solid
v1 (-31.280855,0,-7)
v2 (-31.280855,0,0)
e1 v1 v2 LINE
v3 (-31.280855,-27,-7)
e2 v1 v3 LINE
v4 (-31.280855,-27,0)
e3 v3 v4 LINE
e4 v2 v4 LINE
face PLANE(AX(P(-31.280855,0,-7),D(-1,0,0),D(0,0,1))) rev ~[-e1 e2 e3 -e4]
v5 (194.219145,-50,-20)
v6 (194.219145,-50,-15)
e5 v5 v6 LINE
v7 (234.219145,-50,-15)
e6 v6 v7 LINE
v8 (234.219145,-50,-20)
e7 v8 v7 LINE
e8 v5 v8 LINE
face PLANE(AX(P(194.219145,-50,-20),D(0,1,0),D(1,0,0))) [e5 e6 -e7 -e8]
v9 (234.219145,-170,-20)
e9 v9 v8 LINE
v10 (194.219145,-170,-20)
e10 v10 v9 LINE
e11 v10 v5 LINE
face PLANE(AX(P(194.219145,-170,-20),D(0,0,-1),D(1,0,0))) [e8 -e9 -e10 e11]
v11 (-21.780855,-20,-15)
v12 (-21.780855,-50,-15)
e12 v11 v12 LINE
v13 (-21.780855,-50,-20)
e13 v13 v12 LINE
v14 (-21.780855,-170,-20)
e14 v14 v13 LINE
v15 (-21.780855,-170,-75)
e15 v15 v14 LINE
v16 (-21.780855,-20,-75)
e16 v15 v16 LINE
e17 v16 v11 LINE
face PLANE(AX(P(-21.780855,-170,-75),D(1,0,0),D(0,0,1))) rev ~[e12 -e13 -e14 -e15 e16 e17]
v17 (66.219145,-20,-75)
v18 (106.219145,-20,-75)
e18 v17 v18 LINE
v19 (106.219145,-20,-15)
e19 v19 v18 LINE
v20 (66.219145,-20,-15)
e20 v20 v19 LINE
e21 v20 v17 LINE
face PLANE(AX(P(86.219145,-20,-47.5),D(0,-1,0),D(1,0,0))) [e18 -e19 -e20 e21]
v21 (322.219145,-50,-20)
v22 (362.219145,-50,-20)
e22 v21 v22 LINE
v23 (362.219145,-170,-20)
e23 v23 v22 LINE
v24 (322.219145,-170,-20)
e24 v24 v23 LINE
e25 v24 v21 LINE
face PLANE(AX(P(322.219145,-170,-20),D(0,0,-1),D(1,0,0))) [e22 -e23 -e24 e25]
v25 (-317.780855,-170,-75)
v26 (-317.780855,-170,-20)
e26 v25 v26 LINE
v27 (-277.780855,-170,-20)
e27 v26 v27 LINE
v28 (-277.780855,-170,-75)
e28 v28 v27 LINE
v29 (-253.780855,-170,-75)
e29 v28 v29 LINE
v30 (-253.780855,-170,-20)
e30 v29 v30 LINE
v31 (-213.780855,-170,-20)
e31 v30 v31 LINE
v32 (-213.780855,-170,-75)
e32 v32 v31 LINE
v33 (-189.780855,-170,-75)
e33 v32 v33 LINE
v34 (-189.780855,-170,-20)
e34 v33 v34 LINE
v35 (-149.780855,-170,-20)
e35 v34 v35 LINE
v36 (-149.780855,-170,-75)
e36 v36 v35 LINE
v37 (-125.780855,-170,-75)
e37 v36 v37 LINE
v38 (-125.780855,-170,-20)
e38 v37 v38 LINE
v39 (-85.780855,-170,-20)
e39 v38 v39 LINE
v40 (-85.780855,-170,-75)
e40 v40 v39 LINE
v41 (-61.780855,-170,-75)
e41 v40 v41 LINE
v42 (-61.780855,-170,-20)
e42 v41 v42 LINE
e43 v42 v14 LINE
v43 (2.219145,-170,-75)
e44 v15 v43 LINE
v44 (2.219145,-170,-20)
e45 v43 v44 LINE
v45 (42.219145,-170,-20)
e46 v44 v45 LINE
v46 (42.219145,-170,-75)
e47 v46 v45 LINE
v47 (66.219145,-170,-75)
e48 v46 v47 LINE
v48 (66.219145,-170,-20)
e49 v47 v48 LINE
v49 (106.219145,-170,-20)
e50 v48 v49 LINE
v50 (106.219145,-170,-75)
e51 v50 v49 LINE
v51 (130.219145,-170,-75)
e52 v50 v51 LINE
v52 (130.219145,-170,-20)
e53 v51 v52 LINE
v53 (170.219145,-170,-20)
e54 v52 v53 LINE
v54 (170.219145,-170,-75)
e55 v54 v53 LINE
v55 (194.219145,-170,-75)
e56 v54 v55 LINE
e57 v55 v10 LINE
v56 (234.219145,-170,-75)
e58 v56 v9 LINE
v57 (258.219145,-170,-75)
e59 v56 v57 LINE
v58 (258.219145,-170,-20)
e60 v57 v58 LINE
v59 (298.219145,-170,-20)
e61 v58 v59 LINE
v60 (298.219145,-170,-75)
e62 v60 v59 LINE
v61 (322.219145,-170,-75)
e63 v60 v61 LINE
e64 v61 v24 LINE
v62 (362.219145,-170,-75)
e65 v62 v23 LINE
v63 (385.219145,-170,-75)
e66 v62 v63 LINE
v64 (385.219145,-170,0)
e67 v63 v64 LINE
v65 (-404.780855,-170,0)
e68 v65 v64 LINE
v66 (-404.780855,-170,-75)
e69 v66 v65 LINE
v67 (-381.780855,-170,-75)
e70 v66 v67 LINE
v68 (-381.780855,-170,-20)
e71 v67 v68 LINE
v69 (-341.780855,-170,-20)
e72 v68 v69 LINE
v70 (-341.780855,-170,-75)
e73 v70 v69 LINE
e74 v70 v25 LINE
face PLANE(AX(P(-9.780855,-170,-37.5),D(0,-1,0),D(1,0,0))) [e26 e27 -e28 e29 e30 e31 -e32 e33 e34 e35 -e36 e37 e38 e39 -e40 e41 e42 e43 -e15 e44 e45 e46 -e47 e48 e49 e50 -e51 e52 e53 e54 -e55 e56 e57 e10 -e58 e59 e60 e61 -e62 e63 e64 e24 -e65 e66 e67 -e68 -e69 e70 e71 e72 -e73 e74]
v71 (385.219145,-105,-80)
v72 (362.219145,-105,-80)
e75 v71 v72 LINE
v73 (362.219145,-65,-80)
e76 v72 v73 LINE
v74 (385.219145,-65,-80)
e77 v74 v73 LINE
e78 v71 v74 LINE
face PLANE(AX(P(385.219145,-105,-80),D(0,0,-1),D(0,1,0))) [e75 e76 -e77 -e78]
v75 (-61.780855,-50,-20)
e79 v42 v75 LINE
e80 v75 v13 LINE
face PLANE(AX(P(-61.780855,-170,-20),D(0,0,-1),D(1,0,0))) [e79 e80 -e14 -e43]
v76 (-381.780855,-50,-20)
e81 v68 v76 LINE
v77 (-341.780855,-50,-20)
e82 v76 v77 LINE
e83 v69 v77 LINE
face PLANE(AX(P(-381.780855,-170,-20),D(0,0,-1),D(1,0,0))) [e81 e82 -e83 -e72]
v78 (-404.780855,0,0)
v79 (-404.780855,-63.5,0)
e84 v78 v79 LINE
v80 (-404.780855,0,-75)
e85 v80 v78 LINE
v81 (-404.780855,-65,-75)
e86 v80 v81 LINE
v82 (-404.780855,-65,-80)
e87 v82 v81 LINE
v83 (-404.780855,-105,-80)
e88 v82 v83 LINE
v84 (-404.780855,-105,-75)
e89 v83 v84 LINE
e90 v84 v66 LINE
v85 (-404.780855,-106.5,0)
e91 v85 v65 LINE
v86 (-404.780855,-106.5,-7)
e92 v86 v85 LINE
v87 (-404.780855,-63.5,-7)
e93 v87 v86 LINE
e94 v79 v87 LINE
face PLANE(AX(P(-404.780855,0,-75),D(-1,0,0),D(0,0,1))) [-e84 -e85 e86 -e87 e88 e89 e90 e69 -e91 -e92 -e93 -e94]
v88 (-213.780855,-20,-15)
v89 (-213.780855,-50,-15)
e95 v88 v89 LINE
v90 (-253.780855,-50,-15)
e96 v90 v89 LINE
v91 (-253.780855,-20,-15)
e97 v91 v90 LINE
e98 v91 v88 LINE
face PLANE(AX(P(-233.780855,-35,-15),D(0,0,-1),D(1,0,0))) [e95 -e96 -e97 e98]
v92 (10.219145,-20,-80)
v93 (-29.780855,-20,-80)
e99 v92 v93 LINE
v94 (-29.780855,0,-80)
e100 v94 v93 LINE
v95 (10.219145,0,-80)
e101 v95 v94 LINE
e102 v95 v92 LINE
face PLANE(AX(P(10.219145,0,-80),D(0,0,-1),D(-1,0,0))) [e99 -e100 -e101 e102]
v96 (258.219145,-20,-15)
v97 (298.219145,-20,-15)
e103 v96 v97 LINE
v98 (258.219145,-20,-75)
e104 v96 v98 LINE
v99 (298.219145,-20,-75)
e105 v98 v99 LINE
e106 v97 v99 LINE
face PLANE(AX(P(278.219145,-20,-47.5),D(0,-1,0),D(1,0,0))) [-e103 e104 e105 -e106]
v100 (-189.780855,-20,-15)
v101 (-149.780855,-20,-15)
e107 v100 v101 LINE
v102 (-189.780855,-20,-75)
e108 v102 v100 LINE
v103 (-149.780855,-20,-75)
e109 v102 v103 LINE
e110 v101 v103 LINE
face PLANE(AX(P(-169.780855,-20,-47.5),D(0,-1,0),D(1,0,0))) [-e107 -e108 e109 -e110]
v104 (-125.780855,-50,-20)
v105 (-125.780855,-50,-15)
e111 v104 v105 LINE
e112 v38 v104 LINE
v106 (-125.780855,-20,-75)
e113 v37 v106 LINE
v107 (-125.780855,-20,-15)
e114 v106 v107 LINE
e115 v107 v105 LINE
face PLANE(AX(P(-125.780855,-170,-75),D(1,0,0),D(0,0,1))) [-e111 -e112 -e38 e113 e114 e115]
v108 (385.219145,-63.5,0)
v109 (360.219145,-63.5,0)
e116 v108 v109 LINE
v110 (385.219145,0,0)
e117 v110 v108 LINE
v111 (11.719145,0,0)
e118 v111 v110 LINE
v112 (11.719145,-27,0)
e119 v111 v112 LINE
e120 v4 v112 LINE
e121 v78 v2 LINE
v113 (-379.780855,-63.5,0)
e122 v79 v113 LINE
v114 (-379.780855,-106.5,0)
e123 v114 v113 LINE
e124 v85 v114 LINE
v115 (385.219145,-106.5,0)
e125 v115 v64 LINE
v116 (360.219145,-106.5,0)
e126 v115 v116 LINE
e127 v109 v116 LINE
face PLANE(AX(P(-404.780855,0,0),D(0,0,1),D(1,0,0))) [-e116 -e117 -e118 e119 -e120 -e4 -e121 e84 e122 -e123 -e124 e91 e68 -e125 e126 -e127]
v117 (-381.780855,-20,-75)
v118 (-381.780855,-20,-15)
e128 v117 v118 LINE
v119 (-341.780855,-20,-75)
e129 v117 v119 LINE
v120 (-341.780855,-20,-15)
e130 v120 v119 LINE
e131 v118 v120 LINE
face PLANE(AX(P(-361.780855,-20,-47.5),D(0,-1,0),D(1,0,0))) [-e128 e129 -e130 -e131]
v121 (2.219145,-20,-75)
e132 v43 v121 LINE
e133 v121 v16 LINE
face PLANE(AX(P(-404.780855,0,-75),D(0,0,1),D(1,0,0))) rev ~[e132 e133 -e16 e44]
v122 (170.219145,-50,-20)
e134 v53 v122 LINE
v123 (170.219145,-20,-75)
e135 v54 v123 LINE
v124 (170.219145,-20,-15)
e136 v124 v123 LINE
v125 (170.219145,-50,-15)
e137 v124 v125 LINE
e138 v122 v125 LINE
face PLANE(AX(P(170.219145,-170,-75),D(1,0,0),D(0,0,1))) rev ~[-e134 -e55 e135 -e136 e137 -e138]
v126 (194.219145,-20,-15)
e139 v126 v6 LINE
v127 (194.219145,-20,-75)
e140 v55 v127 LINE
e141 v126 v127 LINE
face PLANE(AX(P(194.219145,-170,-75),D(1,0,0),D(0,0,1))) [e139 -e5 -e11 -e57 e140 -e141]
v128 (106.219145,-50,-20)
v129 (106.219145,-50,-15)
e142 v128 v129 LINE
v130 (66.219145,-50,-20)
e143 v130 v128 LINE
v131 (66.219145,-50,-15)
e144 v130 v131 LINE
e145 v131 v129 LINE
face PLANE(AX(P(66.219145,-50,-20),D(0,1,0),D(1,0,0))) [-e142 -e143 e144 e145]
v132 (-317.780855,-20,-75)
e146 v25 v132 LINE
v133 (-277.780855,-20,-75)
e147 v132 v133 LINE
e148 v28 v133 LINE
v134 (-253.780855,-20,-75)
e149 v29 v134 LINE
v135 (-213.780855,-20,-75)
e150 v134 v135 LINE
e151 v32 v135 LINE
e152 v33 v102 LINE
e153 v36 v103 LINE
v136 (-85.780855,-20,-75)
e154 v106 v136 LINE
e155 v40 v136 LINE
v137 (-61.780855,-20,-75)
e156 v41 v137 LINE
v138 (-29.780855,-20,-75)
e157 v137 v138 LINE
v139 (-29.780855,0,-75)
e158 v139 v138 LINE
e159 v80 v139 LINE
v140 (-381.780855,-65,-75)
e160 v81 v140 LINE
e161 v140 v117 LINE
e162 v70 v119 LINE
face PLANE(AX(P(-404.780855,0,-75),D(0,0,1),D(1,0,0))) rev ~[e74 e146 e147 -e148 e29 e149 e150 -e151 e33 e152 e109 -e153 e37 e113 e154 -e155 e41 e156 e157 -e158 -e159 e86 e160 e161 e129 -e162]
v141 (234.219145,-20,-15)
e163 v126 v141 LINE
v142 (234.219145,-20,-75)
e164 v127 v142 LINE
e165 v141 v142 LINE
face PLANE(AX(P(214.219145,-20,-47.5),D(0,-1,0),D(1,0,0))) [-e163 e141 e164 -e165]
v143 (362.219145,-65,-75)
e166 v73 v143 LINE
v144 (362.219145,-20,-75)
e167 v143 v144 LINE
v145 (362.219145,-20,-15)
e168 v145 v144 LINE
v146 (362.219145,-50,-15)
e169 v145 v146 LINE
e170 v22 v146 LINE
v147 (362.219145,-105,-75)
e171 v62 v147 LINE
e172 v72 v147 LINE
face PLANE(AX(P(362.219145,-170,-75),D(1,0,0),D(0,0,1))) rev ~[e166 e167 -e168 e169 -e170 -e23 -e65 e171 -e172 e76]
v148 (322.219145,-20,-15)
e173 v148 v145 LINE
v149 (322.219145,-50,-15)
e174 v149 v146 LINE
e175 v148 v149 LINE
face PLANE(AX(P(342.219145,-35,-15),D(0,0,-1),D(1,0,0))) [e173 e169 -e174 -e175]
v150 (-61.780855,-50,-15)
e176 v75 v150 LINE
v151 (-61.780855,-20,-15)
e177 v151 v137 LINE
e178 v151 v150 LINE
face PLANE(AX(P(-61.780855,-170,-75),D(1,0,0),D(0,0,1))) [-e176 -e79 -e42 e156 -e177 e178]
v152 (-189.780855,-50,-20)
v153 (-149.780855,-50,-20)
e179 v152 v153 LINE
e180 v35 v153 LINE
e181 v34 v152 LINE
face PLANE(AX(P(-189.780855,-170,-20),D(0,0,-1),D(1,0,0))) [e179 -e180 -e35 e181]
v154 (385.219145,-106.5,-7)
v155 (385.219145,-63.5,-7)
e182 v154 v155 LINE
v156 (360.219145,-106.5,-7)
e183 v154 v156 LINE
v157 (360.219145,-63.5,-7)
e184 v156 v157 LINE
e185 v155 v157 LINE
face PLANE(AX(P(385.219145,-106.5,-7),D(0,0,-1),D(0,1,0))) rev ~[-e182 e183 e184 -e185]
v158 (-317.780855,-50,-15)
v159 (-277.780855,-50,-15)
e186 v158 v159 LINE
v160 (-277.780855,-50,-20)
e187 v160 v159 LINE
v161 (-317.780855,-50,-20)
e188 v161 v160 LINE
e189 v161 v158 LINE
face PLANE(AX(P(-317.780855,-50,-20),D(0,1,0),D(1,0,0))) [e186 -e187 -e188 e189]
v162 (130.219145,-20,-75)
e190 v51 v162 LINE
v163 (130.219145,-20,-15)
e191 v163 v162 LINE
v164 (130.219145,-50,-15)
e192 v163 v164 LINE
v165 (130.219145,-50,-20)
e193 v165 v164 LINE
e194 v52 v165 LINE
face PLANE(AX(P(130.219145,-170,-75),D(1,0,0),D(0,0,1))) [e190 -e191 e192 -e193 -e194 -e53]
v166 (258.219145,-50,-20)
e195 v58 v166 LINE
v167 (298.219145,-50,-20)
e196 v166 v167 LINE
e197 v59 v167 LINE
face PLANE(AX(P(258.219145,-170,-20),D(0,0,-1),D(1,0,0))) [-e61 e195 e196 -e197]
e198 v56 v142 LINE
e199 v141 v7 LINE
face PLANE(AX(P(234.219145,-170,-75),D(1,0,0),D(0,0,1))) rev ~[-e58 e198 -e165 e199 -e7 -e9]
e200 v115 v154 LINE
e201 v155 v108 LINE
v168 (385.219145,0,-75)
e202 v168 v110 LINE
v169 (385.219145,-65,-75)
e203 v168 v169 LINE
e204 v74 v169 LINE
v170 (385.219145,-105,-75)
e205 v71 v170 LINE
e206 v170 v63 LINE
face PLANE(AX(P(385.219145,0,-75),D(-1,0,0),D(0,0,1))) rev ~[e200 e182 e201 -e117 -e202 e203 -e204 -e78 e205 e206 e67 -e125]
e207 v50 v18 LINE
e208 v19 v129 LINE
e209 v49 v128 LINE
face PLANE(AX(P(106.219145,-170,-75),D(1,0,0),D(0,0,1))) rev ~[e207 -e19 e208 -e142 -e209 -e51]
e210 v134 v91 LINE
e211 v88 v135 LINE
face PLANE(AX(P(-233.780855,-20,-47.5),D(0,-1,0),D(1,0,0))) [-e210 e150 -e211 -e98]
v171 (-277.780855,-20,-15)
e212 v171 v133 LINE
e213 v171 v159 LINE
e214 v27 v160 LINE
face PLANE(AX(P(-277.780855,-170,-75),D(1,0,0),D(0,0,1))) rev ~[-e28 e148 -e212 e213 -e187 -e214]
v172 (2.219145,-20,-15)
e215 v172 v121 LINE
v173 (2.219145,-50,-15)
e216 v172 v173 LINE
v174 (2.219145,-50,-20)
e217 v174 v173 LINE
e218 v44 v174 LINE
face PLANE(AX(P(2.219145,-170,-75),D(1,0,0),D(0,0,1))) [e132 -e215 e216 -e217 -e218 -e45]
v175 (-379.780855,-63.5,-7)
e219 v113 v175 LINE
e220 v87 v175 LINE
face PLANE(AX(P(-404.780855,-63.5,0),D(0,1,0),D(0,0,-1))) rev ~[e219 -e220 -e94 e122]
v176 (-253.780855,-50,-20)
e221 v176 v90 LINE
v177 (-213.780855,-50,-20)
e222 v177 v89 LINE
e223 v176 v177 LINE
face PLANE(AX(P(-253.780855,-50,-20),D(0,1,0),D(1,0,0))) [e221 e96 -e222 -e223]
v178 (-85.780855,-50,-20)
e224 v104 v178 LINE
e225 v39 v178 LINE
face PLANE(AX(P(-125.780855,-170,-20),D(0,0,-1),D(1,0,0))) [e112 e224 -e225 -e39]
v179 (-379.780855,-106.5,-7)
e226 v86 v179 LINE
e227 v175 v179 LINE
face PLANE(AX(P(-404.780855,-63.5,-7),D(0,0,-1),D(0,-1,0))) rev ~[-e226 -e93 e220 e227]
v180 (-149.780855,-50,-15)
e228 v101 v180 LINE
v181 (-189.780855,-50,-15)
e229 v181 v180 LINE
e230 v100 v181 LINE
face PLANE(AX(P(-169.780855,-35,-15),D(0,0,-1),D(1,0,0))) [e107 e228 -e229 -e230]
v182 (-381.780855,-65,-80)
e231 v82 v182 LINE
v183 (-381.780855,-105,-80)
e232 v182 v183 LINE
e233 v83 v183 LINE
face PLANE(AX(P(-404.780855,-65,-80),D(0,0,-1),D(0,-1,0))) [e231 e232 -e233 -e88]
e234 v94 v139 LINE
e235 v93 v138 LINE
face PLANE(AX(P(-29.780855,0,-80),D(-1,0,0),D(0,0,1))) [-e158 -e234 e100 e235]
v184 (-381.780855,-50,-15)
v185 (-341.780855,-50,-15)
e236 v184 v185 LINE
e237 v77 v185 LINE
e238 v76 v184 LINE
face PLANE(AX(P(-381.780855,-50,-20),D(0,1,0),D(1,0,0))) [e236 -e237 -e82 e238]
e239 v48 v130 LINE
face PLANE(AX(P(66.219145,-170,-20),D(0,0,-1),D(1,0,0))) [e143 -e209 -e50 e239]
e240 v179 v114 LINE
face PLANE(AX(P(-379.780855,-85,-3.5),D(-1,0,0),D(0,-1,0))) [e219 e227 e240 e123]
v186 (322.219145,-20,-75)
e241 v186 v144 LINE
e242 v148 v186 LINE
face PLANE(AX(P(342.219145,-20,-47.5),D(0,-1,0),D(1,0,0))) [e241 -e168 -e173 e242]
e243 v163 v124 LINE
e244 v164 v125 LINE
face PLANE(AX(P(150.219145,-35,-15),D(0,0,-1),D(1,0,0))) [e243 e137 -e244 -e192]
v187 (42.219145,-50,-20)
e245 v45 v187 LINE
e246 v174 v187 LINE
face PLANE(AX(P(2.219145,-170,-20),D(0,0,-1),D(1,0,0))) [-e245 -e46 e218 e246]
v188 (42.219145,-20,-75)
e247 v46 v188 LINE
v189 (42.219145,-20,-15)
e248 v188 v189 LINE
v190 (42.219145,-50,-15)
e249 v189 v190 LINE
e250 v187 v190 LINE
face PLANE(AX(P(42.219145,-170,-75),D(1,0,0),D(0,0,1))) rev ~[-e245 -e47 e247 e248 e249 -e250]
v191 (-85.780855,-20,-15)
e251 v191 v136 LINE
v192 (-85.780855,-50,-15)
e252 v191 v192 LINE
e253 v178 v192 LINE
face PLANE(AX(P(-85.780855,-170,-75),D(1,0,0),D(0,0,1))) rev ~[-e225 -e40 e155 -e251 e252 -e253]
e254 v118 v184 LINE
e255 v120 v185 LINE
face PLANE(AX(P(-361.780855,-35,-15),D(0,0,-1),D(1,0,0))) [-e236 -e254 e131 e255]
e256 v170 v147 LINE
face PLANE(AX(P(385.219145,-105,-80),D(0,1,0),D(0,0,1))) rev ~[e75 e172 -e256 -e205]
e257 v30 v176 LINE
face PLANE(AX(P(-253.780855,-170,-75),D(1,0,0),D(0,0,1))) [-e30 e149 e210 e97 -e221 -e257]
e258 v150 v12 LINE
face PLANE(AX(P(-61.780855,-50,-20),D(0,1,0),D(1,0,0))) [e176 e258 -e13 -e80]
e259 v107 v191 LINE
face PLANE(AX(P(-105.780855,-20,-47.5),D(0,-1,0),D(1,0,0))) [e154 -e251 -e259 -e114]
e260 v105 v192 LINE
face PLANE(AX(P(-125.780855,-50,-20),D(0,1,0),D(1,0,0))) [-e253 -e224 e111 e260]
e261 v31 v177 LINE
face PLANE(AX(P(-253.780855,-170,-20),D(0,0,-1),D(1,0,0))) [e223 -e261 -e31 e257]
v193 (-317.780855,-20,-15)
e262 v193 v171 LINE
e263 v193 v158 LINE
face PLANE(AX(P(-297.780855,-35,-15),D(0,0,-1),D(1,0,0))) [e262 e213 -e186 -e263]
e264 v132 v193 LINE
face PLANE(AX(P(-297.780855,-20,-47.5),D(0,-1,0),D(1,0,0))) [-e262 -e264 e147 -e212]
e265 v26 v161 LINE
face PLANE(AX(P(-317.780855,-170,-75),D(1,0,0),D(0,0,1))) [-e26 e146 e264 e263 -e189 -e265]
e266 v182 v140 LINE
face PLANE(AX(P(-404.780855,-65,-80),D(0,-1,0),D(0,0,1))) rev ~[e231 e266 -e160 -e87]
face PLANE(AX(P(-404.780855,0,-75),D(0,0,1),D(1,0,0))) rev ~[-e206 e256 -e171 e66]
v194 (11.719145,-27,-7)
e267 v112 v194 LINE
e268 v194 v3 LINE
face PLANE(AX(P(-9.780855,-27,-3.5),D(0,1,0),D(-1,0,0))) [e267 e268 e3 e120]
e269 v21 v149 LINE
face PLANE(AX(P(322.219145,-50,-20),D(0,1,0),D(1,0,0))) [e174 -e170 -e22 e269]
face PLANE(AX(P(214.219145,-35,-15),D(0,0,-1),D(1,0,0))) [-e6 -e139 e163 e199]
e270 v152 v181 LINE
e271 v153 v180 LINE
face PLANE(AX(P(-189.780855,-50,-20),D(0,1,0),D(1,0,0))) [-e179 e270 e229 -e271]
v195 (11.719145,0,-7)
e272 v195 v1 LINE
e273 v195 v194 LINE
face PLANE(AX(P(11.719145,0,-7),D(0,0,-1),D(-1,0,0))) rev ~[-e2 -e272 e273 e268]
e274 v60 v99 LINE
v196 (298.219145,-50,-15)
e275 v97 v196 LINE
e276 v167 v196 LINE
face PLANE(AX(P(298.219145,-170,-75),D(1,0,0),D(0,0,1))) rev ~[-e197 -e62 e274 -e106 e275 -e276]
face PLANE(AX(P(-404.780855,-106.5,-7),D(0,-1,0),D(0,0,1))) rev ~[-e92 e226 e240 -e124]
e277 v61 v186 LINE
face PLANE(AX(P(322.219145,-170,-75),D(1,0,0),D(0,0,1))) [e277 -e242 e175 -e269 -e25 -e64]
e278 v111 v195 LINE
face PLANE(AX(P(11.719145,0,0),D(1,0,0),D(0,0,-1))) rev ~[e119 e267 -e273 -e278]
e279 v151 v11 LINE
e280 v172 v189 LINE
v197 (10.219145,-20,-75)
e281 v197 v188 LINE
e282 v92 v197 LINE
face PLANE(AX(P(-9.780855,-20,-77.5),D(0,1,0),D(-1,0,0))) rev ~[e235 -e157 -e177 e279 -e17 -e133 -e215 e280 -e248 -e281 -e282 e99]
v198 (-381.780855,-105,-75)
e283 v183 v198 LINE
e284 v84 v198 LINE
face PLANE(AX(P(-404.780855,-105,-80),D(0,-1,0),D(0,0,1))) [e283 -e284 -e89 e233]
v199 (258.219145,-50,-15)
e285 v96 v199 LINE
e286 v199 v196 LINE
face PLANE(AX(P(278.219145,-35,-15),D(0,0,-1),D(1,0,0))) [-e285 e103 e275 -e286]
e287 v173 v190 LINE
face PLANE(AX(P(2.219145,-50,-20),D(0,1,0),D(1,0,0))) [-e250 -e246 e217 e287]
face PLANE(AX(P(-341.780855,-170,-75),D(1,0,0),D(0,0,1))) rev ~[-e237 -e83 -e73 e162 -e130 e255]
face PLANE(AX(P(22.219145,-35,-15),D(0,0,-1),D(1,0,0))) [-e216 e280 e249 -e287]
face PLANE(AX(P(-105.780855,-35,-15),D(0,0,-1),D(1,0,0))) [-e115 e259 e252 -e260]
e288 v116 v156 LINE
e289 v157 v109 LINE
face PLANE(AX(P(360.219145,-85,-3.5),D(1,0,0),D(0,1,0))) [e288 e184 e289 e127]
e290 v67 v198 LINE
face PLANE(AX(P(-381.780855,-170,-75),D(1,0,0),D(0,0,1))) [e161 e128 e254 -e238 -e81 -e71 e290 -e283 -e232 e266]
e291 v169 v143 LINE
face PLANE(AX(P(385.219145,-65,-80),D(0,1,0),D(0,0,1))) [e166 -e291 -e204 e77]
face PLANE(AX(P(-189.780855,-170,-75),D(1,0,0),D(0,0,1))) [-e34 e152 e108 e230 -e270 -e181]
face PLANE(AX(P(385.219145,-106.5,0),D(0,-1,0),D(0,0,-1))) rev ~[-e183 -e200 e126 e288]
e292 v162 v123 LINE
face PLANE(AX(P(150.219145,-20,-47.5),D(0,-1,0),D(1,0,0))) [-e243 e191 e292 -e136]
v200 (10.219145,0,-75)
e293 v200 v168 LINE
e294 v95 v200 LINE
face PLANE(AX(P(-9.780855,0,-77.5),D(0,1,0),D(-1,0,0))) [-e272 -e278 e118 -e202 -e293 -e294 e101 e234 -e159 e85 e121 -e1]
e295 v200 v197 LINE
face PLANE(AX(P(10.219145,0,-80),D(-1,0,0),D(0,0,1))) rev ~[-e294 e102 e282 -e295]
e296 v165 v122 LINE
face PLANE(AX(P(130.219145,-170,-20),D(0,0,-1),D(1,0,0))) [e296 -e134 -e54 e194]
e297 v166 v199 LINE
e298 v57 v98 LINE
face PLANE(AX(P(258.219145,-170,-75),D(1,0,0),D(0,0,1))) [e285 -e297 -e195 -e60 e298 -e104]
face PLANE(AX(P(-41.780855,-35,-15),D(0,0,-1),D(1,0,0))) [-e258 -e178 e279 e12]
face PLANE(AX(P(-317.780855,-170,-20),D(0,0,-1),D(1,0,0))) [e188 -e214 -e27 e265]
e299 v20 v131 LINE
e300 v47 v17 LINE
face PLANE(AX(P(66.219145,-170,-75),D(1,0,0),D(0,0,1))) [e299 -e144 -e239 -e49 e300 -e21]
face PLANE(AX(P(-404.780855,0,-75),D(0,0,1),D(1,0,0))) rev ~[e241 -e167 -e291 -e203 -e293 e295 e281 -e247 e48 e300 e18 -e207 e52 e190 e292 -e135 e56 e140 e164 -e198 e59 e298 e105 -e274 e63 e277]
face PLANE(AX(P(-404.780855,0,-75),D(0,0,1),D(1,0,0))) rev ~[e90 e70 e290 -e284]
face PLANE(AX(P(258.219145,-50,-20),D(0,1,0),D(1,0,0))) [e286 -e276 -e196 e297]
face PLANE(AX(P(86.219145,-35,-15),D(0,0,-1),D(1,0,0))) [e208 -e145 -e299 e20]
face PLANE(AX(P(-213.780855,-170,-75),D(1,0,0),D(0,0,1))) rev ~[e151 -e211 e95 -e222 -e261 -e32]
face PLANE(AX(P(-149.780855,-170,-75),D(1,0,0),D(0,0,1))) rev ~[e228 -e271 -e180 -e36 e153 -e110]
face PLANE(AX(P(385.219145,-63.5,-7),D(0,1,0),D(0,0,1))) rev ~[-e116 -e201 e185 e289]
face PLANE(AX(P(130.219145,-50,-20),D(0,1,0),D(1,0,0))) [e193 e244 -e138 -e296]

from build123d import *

# Parameters (mm, degrees)
F0_W      = 790
F0_H      = 75
F1_DEPTH  = 170
F2_W      = 40
F2_H      = 55
F3_DEPTH  = 150
F5_DEPTH  = 25
F4_W      = 40
F4_H      = 5
F6_DEPTH  = 23
F7_W      = 40
F7_H      = 5
F8_DEPTH  = 23
F10_DEPTH = 25
F12_DEPTH = 27
F13_W     = 40
F13_H     = 5
F14_DEPTH = 20
F15_W     = 40
F15_H     = 30
F16_DEPTH = 5


with BuildPart() as f1:
    # F0 (on Front) → F1 (new body)
    with BuildSketch(Plane.XZ):
        with Locations((-9.780855, -37.5)):
            Rectangle(F0_W, F0_H)
    extrude(amount=F1_DEPTH)

    # F2 (on face) → F3 (cut)
    with BuildSketch(Plane.XZ.offset(170)):
        with Locations((-361.780855, -47.5)):
            Rectangle(F2_W, F2_H)
        with Locations((-297.780855, -47.5)):
            Rectangle(F2_W, F2_H)
        with Locations((-233.780855, -47.5)):
            Rectangle(F2_W, F2_H)
        with Locations((-169.780855, -47.5)):
            Rectangle(F2_W, F2_H)
        with Locations((-105.780855, -47.5)):
            Rectangle(F2_W, F2_H)
        with Locations((-41.780855, -47.5)):
            Rectangle(F2_W, F2_H)
        with Locations((22.219145, -47.5)):
            Rectangle(F2_W, F2_H)
        with Locations((86.219145, -47.5)):
            Rectangle(F2_W, F2_H)
        with Locations((150.219145, -47.5)):
            Rectangle(F2_W, F2_H)
        with Locations((214.219145, -47.5)):
            Rectangle(F2_W, F2_H)
        with Locations((278.219145, -47.5)):
            Rectangle(F2_W, F2_H)
        with Locations((342.219145, -47.5)):
            Rectangle(F2_W, F2_H)
    extrude(amount=-F3_DEPTH, mode=Mode.SUBTRACT)

    # F4 (on face) → F5 (cut)
    with BuildSketch(Plane(origin=(-404.780855, 0, 0), x_dir=(0, -1, 0), z_dir=(-1, 0, 0))):
        Polygon((106.5, 0), (85, 0), (63.5, 0), (63.5, -7), (106.5, -7), align=None)
    extrude(amount=-F5_DEPTH, mode=Mode.SUBTRACT)

    # F4 (on face) → F6 (join)
    with BuildSketch(Plane(origin=(-404.780855, 0, 0), x_dir=(0, -1, 0), z_dir=(-1, 0, 0))):
        with Locations((85, -77.5)):
            Rectangle(F4_W, F4_H)
    extrude(amount=-F6_DEPTH)

    # F7 (on face) → F8 (join)
    with BuildSketch(Plane.YZ.offset(385.219145)):
        with Locations((-85, -77.5)):
            Rectangle(F7_W, F7_H)
    extrude(amount=-F8_DEPTH)

    # F9 (on face) → F10 (cut)
    with BuildSketch(Plane.YZ.offset(385.219145)):
        Polygon((-63.5, 0), (-85, 0), (-106.5, 0), (-106.5, -7), (-63.5, -7), align=None)
    extrude(amount=-F10_DEPTH, mode=Mode.SUBTRACT)

    # F11 (on face) → F12 (cut)
    with BuildSketch(Plane(origin=(0, 0, 0), x_dir=(-1, 0, 0), z_dir=(0, 1, 0))):
        Polygon((31.280855, 0), (9.780855, 0), (-11.719145, 0), (-11.719145, -7), (31.280855, -7), align=None)
    extrude(amount=-F12_DEPTH, mode=Mode.SUBTRACT)

    # F13 (on face) → F14 (join)
    with BuildSketch(Plane(origin=(0, 0, 0), x_dir=(-1, 0, 0), z_dir=(0, 1, 0))):
        with Locations((9.780855, -77.5)):
            Rectangle(F13_W, F13_H)
    extrude(amount=-F14_DEPTH)

    # F15 (on face) → F16 (cut)
    with BuildSketch(Plane(origin=(0, 0, -20), x_dir=(1, 0, 0), z_dir=(0, 0, -1))):
        with Locations((-361.780855, 35)):
            Rectangle(F15_W, F15_H)
        with Locations((-297.780855, 35)):
            Rectangle(F15_W, F15_H)
        with Locations((-233.780855, 35)):
            Rectangle(F15_W, F15_H)
        with Locations((-169.780855, 35)):
            Rectangle(F15_W, F15_H)
        with Locations((-105.780855, 35)):
            Rectangle(F15_W, F15_H)
        with Locations((-41.780855, 35)):
            Rectangle(F15_W, F15_H)
        with Locations((22.219145, 35)):
            Rectangle(F15_W, F15_H)
        with Locations((86.219145, 35)):
            Rectangle(F15_W, F15_H)
        with Locations((150.219145, 35)):
            Rectangle(F15_W, F15_H)
        with Locations((214.219145, 35)):
            Rectangle(F15_W, F15_H)
        with Locations((278.219145, 35)):
            Rectangle(F15_W, F15_H)
        with Locations((342.219145, 35)):
            Rectangle(F15_W, F15_H)
    extrude(amount=-F16_DEPTH, mode=Mode.SUBTRACT)


solid = f1.part
